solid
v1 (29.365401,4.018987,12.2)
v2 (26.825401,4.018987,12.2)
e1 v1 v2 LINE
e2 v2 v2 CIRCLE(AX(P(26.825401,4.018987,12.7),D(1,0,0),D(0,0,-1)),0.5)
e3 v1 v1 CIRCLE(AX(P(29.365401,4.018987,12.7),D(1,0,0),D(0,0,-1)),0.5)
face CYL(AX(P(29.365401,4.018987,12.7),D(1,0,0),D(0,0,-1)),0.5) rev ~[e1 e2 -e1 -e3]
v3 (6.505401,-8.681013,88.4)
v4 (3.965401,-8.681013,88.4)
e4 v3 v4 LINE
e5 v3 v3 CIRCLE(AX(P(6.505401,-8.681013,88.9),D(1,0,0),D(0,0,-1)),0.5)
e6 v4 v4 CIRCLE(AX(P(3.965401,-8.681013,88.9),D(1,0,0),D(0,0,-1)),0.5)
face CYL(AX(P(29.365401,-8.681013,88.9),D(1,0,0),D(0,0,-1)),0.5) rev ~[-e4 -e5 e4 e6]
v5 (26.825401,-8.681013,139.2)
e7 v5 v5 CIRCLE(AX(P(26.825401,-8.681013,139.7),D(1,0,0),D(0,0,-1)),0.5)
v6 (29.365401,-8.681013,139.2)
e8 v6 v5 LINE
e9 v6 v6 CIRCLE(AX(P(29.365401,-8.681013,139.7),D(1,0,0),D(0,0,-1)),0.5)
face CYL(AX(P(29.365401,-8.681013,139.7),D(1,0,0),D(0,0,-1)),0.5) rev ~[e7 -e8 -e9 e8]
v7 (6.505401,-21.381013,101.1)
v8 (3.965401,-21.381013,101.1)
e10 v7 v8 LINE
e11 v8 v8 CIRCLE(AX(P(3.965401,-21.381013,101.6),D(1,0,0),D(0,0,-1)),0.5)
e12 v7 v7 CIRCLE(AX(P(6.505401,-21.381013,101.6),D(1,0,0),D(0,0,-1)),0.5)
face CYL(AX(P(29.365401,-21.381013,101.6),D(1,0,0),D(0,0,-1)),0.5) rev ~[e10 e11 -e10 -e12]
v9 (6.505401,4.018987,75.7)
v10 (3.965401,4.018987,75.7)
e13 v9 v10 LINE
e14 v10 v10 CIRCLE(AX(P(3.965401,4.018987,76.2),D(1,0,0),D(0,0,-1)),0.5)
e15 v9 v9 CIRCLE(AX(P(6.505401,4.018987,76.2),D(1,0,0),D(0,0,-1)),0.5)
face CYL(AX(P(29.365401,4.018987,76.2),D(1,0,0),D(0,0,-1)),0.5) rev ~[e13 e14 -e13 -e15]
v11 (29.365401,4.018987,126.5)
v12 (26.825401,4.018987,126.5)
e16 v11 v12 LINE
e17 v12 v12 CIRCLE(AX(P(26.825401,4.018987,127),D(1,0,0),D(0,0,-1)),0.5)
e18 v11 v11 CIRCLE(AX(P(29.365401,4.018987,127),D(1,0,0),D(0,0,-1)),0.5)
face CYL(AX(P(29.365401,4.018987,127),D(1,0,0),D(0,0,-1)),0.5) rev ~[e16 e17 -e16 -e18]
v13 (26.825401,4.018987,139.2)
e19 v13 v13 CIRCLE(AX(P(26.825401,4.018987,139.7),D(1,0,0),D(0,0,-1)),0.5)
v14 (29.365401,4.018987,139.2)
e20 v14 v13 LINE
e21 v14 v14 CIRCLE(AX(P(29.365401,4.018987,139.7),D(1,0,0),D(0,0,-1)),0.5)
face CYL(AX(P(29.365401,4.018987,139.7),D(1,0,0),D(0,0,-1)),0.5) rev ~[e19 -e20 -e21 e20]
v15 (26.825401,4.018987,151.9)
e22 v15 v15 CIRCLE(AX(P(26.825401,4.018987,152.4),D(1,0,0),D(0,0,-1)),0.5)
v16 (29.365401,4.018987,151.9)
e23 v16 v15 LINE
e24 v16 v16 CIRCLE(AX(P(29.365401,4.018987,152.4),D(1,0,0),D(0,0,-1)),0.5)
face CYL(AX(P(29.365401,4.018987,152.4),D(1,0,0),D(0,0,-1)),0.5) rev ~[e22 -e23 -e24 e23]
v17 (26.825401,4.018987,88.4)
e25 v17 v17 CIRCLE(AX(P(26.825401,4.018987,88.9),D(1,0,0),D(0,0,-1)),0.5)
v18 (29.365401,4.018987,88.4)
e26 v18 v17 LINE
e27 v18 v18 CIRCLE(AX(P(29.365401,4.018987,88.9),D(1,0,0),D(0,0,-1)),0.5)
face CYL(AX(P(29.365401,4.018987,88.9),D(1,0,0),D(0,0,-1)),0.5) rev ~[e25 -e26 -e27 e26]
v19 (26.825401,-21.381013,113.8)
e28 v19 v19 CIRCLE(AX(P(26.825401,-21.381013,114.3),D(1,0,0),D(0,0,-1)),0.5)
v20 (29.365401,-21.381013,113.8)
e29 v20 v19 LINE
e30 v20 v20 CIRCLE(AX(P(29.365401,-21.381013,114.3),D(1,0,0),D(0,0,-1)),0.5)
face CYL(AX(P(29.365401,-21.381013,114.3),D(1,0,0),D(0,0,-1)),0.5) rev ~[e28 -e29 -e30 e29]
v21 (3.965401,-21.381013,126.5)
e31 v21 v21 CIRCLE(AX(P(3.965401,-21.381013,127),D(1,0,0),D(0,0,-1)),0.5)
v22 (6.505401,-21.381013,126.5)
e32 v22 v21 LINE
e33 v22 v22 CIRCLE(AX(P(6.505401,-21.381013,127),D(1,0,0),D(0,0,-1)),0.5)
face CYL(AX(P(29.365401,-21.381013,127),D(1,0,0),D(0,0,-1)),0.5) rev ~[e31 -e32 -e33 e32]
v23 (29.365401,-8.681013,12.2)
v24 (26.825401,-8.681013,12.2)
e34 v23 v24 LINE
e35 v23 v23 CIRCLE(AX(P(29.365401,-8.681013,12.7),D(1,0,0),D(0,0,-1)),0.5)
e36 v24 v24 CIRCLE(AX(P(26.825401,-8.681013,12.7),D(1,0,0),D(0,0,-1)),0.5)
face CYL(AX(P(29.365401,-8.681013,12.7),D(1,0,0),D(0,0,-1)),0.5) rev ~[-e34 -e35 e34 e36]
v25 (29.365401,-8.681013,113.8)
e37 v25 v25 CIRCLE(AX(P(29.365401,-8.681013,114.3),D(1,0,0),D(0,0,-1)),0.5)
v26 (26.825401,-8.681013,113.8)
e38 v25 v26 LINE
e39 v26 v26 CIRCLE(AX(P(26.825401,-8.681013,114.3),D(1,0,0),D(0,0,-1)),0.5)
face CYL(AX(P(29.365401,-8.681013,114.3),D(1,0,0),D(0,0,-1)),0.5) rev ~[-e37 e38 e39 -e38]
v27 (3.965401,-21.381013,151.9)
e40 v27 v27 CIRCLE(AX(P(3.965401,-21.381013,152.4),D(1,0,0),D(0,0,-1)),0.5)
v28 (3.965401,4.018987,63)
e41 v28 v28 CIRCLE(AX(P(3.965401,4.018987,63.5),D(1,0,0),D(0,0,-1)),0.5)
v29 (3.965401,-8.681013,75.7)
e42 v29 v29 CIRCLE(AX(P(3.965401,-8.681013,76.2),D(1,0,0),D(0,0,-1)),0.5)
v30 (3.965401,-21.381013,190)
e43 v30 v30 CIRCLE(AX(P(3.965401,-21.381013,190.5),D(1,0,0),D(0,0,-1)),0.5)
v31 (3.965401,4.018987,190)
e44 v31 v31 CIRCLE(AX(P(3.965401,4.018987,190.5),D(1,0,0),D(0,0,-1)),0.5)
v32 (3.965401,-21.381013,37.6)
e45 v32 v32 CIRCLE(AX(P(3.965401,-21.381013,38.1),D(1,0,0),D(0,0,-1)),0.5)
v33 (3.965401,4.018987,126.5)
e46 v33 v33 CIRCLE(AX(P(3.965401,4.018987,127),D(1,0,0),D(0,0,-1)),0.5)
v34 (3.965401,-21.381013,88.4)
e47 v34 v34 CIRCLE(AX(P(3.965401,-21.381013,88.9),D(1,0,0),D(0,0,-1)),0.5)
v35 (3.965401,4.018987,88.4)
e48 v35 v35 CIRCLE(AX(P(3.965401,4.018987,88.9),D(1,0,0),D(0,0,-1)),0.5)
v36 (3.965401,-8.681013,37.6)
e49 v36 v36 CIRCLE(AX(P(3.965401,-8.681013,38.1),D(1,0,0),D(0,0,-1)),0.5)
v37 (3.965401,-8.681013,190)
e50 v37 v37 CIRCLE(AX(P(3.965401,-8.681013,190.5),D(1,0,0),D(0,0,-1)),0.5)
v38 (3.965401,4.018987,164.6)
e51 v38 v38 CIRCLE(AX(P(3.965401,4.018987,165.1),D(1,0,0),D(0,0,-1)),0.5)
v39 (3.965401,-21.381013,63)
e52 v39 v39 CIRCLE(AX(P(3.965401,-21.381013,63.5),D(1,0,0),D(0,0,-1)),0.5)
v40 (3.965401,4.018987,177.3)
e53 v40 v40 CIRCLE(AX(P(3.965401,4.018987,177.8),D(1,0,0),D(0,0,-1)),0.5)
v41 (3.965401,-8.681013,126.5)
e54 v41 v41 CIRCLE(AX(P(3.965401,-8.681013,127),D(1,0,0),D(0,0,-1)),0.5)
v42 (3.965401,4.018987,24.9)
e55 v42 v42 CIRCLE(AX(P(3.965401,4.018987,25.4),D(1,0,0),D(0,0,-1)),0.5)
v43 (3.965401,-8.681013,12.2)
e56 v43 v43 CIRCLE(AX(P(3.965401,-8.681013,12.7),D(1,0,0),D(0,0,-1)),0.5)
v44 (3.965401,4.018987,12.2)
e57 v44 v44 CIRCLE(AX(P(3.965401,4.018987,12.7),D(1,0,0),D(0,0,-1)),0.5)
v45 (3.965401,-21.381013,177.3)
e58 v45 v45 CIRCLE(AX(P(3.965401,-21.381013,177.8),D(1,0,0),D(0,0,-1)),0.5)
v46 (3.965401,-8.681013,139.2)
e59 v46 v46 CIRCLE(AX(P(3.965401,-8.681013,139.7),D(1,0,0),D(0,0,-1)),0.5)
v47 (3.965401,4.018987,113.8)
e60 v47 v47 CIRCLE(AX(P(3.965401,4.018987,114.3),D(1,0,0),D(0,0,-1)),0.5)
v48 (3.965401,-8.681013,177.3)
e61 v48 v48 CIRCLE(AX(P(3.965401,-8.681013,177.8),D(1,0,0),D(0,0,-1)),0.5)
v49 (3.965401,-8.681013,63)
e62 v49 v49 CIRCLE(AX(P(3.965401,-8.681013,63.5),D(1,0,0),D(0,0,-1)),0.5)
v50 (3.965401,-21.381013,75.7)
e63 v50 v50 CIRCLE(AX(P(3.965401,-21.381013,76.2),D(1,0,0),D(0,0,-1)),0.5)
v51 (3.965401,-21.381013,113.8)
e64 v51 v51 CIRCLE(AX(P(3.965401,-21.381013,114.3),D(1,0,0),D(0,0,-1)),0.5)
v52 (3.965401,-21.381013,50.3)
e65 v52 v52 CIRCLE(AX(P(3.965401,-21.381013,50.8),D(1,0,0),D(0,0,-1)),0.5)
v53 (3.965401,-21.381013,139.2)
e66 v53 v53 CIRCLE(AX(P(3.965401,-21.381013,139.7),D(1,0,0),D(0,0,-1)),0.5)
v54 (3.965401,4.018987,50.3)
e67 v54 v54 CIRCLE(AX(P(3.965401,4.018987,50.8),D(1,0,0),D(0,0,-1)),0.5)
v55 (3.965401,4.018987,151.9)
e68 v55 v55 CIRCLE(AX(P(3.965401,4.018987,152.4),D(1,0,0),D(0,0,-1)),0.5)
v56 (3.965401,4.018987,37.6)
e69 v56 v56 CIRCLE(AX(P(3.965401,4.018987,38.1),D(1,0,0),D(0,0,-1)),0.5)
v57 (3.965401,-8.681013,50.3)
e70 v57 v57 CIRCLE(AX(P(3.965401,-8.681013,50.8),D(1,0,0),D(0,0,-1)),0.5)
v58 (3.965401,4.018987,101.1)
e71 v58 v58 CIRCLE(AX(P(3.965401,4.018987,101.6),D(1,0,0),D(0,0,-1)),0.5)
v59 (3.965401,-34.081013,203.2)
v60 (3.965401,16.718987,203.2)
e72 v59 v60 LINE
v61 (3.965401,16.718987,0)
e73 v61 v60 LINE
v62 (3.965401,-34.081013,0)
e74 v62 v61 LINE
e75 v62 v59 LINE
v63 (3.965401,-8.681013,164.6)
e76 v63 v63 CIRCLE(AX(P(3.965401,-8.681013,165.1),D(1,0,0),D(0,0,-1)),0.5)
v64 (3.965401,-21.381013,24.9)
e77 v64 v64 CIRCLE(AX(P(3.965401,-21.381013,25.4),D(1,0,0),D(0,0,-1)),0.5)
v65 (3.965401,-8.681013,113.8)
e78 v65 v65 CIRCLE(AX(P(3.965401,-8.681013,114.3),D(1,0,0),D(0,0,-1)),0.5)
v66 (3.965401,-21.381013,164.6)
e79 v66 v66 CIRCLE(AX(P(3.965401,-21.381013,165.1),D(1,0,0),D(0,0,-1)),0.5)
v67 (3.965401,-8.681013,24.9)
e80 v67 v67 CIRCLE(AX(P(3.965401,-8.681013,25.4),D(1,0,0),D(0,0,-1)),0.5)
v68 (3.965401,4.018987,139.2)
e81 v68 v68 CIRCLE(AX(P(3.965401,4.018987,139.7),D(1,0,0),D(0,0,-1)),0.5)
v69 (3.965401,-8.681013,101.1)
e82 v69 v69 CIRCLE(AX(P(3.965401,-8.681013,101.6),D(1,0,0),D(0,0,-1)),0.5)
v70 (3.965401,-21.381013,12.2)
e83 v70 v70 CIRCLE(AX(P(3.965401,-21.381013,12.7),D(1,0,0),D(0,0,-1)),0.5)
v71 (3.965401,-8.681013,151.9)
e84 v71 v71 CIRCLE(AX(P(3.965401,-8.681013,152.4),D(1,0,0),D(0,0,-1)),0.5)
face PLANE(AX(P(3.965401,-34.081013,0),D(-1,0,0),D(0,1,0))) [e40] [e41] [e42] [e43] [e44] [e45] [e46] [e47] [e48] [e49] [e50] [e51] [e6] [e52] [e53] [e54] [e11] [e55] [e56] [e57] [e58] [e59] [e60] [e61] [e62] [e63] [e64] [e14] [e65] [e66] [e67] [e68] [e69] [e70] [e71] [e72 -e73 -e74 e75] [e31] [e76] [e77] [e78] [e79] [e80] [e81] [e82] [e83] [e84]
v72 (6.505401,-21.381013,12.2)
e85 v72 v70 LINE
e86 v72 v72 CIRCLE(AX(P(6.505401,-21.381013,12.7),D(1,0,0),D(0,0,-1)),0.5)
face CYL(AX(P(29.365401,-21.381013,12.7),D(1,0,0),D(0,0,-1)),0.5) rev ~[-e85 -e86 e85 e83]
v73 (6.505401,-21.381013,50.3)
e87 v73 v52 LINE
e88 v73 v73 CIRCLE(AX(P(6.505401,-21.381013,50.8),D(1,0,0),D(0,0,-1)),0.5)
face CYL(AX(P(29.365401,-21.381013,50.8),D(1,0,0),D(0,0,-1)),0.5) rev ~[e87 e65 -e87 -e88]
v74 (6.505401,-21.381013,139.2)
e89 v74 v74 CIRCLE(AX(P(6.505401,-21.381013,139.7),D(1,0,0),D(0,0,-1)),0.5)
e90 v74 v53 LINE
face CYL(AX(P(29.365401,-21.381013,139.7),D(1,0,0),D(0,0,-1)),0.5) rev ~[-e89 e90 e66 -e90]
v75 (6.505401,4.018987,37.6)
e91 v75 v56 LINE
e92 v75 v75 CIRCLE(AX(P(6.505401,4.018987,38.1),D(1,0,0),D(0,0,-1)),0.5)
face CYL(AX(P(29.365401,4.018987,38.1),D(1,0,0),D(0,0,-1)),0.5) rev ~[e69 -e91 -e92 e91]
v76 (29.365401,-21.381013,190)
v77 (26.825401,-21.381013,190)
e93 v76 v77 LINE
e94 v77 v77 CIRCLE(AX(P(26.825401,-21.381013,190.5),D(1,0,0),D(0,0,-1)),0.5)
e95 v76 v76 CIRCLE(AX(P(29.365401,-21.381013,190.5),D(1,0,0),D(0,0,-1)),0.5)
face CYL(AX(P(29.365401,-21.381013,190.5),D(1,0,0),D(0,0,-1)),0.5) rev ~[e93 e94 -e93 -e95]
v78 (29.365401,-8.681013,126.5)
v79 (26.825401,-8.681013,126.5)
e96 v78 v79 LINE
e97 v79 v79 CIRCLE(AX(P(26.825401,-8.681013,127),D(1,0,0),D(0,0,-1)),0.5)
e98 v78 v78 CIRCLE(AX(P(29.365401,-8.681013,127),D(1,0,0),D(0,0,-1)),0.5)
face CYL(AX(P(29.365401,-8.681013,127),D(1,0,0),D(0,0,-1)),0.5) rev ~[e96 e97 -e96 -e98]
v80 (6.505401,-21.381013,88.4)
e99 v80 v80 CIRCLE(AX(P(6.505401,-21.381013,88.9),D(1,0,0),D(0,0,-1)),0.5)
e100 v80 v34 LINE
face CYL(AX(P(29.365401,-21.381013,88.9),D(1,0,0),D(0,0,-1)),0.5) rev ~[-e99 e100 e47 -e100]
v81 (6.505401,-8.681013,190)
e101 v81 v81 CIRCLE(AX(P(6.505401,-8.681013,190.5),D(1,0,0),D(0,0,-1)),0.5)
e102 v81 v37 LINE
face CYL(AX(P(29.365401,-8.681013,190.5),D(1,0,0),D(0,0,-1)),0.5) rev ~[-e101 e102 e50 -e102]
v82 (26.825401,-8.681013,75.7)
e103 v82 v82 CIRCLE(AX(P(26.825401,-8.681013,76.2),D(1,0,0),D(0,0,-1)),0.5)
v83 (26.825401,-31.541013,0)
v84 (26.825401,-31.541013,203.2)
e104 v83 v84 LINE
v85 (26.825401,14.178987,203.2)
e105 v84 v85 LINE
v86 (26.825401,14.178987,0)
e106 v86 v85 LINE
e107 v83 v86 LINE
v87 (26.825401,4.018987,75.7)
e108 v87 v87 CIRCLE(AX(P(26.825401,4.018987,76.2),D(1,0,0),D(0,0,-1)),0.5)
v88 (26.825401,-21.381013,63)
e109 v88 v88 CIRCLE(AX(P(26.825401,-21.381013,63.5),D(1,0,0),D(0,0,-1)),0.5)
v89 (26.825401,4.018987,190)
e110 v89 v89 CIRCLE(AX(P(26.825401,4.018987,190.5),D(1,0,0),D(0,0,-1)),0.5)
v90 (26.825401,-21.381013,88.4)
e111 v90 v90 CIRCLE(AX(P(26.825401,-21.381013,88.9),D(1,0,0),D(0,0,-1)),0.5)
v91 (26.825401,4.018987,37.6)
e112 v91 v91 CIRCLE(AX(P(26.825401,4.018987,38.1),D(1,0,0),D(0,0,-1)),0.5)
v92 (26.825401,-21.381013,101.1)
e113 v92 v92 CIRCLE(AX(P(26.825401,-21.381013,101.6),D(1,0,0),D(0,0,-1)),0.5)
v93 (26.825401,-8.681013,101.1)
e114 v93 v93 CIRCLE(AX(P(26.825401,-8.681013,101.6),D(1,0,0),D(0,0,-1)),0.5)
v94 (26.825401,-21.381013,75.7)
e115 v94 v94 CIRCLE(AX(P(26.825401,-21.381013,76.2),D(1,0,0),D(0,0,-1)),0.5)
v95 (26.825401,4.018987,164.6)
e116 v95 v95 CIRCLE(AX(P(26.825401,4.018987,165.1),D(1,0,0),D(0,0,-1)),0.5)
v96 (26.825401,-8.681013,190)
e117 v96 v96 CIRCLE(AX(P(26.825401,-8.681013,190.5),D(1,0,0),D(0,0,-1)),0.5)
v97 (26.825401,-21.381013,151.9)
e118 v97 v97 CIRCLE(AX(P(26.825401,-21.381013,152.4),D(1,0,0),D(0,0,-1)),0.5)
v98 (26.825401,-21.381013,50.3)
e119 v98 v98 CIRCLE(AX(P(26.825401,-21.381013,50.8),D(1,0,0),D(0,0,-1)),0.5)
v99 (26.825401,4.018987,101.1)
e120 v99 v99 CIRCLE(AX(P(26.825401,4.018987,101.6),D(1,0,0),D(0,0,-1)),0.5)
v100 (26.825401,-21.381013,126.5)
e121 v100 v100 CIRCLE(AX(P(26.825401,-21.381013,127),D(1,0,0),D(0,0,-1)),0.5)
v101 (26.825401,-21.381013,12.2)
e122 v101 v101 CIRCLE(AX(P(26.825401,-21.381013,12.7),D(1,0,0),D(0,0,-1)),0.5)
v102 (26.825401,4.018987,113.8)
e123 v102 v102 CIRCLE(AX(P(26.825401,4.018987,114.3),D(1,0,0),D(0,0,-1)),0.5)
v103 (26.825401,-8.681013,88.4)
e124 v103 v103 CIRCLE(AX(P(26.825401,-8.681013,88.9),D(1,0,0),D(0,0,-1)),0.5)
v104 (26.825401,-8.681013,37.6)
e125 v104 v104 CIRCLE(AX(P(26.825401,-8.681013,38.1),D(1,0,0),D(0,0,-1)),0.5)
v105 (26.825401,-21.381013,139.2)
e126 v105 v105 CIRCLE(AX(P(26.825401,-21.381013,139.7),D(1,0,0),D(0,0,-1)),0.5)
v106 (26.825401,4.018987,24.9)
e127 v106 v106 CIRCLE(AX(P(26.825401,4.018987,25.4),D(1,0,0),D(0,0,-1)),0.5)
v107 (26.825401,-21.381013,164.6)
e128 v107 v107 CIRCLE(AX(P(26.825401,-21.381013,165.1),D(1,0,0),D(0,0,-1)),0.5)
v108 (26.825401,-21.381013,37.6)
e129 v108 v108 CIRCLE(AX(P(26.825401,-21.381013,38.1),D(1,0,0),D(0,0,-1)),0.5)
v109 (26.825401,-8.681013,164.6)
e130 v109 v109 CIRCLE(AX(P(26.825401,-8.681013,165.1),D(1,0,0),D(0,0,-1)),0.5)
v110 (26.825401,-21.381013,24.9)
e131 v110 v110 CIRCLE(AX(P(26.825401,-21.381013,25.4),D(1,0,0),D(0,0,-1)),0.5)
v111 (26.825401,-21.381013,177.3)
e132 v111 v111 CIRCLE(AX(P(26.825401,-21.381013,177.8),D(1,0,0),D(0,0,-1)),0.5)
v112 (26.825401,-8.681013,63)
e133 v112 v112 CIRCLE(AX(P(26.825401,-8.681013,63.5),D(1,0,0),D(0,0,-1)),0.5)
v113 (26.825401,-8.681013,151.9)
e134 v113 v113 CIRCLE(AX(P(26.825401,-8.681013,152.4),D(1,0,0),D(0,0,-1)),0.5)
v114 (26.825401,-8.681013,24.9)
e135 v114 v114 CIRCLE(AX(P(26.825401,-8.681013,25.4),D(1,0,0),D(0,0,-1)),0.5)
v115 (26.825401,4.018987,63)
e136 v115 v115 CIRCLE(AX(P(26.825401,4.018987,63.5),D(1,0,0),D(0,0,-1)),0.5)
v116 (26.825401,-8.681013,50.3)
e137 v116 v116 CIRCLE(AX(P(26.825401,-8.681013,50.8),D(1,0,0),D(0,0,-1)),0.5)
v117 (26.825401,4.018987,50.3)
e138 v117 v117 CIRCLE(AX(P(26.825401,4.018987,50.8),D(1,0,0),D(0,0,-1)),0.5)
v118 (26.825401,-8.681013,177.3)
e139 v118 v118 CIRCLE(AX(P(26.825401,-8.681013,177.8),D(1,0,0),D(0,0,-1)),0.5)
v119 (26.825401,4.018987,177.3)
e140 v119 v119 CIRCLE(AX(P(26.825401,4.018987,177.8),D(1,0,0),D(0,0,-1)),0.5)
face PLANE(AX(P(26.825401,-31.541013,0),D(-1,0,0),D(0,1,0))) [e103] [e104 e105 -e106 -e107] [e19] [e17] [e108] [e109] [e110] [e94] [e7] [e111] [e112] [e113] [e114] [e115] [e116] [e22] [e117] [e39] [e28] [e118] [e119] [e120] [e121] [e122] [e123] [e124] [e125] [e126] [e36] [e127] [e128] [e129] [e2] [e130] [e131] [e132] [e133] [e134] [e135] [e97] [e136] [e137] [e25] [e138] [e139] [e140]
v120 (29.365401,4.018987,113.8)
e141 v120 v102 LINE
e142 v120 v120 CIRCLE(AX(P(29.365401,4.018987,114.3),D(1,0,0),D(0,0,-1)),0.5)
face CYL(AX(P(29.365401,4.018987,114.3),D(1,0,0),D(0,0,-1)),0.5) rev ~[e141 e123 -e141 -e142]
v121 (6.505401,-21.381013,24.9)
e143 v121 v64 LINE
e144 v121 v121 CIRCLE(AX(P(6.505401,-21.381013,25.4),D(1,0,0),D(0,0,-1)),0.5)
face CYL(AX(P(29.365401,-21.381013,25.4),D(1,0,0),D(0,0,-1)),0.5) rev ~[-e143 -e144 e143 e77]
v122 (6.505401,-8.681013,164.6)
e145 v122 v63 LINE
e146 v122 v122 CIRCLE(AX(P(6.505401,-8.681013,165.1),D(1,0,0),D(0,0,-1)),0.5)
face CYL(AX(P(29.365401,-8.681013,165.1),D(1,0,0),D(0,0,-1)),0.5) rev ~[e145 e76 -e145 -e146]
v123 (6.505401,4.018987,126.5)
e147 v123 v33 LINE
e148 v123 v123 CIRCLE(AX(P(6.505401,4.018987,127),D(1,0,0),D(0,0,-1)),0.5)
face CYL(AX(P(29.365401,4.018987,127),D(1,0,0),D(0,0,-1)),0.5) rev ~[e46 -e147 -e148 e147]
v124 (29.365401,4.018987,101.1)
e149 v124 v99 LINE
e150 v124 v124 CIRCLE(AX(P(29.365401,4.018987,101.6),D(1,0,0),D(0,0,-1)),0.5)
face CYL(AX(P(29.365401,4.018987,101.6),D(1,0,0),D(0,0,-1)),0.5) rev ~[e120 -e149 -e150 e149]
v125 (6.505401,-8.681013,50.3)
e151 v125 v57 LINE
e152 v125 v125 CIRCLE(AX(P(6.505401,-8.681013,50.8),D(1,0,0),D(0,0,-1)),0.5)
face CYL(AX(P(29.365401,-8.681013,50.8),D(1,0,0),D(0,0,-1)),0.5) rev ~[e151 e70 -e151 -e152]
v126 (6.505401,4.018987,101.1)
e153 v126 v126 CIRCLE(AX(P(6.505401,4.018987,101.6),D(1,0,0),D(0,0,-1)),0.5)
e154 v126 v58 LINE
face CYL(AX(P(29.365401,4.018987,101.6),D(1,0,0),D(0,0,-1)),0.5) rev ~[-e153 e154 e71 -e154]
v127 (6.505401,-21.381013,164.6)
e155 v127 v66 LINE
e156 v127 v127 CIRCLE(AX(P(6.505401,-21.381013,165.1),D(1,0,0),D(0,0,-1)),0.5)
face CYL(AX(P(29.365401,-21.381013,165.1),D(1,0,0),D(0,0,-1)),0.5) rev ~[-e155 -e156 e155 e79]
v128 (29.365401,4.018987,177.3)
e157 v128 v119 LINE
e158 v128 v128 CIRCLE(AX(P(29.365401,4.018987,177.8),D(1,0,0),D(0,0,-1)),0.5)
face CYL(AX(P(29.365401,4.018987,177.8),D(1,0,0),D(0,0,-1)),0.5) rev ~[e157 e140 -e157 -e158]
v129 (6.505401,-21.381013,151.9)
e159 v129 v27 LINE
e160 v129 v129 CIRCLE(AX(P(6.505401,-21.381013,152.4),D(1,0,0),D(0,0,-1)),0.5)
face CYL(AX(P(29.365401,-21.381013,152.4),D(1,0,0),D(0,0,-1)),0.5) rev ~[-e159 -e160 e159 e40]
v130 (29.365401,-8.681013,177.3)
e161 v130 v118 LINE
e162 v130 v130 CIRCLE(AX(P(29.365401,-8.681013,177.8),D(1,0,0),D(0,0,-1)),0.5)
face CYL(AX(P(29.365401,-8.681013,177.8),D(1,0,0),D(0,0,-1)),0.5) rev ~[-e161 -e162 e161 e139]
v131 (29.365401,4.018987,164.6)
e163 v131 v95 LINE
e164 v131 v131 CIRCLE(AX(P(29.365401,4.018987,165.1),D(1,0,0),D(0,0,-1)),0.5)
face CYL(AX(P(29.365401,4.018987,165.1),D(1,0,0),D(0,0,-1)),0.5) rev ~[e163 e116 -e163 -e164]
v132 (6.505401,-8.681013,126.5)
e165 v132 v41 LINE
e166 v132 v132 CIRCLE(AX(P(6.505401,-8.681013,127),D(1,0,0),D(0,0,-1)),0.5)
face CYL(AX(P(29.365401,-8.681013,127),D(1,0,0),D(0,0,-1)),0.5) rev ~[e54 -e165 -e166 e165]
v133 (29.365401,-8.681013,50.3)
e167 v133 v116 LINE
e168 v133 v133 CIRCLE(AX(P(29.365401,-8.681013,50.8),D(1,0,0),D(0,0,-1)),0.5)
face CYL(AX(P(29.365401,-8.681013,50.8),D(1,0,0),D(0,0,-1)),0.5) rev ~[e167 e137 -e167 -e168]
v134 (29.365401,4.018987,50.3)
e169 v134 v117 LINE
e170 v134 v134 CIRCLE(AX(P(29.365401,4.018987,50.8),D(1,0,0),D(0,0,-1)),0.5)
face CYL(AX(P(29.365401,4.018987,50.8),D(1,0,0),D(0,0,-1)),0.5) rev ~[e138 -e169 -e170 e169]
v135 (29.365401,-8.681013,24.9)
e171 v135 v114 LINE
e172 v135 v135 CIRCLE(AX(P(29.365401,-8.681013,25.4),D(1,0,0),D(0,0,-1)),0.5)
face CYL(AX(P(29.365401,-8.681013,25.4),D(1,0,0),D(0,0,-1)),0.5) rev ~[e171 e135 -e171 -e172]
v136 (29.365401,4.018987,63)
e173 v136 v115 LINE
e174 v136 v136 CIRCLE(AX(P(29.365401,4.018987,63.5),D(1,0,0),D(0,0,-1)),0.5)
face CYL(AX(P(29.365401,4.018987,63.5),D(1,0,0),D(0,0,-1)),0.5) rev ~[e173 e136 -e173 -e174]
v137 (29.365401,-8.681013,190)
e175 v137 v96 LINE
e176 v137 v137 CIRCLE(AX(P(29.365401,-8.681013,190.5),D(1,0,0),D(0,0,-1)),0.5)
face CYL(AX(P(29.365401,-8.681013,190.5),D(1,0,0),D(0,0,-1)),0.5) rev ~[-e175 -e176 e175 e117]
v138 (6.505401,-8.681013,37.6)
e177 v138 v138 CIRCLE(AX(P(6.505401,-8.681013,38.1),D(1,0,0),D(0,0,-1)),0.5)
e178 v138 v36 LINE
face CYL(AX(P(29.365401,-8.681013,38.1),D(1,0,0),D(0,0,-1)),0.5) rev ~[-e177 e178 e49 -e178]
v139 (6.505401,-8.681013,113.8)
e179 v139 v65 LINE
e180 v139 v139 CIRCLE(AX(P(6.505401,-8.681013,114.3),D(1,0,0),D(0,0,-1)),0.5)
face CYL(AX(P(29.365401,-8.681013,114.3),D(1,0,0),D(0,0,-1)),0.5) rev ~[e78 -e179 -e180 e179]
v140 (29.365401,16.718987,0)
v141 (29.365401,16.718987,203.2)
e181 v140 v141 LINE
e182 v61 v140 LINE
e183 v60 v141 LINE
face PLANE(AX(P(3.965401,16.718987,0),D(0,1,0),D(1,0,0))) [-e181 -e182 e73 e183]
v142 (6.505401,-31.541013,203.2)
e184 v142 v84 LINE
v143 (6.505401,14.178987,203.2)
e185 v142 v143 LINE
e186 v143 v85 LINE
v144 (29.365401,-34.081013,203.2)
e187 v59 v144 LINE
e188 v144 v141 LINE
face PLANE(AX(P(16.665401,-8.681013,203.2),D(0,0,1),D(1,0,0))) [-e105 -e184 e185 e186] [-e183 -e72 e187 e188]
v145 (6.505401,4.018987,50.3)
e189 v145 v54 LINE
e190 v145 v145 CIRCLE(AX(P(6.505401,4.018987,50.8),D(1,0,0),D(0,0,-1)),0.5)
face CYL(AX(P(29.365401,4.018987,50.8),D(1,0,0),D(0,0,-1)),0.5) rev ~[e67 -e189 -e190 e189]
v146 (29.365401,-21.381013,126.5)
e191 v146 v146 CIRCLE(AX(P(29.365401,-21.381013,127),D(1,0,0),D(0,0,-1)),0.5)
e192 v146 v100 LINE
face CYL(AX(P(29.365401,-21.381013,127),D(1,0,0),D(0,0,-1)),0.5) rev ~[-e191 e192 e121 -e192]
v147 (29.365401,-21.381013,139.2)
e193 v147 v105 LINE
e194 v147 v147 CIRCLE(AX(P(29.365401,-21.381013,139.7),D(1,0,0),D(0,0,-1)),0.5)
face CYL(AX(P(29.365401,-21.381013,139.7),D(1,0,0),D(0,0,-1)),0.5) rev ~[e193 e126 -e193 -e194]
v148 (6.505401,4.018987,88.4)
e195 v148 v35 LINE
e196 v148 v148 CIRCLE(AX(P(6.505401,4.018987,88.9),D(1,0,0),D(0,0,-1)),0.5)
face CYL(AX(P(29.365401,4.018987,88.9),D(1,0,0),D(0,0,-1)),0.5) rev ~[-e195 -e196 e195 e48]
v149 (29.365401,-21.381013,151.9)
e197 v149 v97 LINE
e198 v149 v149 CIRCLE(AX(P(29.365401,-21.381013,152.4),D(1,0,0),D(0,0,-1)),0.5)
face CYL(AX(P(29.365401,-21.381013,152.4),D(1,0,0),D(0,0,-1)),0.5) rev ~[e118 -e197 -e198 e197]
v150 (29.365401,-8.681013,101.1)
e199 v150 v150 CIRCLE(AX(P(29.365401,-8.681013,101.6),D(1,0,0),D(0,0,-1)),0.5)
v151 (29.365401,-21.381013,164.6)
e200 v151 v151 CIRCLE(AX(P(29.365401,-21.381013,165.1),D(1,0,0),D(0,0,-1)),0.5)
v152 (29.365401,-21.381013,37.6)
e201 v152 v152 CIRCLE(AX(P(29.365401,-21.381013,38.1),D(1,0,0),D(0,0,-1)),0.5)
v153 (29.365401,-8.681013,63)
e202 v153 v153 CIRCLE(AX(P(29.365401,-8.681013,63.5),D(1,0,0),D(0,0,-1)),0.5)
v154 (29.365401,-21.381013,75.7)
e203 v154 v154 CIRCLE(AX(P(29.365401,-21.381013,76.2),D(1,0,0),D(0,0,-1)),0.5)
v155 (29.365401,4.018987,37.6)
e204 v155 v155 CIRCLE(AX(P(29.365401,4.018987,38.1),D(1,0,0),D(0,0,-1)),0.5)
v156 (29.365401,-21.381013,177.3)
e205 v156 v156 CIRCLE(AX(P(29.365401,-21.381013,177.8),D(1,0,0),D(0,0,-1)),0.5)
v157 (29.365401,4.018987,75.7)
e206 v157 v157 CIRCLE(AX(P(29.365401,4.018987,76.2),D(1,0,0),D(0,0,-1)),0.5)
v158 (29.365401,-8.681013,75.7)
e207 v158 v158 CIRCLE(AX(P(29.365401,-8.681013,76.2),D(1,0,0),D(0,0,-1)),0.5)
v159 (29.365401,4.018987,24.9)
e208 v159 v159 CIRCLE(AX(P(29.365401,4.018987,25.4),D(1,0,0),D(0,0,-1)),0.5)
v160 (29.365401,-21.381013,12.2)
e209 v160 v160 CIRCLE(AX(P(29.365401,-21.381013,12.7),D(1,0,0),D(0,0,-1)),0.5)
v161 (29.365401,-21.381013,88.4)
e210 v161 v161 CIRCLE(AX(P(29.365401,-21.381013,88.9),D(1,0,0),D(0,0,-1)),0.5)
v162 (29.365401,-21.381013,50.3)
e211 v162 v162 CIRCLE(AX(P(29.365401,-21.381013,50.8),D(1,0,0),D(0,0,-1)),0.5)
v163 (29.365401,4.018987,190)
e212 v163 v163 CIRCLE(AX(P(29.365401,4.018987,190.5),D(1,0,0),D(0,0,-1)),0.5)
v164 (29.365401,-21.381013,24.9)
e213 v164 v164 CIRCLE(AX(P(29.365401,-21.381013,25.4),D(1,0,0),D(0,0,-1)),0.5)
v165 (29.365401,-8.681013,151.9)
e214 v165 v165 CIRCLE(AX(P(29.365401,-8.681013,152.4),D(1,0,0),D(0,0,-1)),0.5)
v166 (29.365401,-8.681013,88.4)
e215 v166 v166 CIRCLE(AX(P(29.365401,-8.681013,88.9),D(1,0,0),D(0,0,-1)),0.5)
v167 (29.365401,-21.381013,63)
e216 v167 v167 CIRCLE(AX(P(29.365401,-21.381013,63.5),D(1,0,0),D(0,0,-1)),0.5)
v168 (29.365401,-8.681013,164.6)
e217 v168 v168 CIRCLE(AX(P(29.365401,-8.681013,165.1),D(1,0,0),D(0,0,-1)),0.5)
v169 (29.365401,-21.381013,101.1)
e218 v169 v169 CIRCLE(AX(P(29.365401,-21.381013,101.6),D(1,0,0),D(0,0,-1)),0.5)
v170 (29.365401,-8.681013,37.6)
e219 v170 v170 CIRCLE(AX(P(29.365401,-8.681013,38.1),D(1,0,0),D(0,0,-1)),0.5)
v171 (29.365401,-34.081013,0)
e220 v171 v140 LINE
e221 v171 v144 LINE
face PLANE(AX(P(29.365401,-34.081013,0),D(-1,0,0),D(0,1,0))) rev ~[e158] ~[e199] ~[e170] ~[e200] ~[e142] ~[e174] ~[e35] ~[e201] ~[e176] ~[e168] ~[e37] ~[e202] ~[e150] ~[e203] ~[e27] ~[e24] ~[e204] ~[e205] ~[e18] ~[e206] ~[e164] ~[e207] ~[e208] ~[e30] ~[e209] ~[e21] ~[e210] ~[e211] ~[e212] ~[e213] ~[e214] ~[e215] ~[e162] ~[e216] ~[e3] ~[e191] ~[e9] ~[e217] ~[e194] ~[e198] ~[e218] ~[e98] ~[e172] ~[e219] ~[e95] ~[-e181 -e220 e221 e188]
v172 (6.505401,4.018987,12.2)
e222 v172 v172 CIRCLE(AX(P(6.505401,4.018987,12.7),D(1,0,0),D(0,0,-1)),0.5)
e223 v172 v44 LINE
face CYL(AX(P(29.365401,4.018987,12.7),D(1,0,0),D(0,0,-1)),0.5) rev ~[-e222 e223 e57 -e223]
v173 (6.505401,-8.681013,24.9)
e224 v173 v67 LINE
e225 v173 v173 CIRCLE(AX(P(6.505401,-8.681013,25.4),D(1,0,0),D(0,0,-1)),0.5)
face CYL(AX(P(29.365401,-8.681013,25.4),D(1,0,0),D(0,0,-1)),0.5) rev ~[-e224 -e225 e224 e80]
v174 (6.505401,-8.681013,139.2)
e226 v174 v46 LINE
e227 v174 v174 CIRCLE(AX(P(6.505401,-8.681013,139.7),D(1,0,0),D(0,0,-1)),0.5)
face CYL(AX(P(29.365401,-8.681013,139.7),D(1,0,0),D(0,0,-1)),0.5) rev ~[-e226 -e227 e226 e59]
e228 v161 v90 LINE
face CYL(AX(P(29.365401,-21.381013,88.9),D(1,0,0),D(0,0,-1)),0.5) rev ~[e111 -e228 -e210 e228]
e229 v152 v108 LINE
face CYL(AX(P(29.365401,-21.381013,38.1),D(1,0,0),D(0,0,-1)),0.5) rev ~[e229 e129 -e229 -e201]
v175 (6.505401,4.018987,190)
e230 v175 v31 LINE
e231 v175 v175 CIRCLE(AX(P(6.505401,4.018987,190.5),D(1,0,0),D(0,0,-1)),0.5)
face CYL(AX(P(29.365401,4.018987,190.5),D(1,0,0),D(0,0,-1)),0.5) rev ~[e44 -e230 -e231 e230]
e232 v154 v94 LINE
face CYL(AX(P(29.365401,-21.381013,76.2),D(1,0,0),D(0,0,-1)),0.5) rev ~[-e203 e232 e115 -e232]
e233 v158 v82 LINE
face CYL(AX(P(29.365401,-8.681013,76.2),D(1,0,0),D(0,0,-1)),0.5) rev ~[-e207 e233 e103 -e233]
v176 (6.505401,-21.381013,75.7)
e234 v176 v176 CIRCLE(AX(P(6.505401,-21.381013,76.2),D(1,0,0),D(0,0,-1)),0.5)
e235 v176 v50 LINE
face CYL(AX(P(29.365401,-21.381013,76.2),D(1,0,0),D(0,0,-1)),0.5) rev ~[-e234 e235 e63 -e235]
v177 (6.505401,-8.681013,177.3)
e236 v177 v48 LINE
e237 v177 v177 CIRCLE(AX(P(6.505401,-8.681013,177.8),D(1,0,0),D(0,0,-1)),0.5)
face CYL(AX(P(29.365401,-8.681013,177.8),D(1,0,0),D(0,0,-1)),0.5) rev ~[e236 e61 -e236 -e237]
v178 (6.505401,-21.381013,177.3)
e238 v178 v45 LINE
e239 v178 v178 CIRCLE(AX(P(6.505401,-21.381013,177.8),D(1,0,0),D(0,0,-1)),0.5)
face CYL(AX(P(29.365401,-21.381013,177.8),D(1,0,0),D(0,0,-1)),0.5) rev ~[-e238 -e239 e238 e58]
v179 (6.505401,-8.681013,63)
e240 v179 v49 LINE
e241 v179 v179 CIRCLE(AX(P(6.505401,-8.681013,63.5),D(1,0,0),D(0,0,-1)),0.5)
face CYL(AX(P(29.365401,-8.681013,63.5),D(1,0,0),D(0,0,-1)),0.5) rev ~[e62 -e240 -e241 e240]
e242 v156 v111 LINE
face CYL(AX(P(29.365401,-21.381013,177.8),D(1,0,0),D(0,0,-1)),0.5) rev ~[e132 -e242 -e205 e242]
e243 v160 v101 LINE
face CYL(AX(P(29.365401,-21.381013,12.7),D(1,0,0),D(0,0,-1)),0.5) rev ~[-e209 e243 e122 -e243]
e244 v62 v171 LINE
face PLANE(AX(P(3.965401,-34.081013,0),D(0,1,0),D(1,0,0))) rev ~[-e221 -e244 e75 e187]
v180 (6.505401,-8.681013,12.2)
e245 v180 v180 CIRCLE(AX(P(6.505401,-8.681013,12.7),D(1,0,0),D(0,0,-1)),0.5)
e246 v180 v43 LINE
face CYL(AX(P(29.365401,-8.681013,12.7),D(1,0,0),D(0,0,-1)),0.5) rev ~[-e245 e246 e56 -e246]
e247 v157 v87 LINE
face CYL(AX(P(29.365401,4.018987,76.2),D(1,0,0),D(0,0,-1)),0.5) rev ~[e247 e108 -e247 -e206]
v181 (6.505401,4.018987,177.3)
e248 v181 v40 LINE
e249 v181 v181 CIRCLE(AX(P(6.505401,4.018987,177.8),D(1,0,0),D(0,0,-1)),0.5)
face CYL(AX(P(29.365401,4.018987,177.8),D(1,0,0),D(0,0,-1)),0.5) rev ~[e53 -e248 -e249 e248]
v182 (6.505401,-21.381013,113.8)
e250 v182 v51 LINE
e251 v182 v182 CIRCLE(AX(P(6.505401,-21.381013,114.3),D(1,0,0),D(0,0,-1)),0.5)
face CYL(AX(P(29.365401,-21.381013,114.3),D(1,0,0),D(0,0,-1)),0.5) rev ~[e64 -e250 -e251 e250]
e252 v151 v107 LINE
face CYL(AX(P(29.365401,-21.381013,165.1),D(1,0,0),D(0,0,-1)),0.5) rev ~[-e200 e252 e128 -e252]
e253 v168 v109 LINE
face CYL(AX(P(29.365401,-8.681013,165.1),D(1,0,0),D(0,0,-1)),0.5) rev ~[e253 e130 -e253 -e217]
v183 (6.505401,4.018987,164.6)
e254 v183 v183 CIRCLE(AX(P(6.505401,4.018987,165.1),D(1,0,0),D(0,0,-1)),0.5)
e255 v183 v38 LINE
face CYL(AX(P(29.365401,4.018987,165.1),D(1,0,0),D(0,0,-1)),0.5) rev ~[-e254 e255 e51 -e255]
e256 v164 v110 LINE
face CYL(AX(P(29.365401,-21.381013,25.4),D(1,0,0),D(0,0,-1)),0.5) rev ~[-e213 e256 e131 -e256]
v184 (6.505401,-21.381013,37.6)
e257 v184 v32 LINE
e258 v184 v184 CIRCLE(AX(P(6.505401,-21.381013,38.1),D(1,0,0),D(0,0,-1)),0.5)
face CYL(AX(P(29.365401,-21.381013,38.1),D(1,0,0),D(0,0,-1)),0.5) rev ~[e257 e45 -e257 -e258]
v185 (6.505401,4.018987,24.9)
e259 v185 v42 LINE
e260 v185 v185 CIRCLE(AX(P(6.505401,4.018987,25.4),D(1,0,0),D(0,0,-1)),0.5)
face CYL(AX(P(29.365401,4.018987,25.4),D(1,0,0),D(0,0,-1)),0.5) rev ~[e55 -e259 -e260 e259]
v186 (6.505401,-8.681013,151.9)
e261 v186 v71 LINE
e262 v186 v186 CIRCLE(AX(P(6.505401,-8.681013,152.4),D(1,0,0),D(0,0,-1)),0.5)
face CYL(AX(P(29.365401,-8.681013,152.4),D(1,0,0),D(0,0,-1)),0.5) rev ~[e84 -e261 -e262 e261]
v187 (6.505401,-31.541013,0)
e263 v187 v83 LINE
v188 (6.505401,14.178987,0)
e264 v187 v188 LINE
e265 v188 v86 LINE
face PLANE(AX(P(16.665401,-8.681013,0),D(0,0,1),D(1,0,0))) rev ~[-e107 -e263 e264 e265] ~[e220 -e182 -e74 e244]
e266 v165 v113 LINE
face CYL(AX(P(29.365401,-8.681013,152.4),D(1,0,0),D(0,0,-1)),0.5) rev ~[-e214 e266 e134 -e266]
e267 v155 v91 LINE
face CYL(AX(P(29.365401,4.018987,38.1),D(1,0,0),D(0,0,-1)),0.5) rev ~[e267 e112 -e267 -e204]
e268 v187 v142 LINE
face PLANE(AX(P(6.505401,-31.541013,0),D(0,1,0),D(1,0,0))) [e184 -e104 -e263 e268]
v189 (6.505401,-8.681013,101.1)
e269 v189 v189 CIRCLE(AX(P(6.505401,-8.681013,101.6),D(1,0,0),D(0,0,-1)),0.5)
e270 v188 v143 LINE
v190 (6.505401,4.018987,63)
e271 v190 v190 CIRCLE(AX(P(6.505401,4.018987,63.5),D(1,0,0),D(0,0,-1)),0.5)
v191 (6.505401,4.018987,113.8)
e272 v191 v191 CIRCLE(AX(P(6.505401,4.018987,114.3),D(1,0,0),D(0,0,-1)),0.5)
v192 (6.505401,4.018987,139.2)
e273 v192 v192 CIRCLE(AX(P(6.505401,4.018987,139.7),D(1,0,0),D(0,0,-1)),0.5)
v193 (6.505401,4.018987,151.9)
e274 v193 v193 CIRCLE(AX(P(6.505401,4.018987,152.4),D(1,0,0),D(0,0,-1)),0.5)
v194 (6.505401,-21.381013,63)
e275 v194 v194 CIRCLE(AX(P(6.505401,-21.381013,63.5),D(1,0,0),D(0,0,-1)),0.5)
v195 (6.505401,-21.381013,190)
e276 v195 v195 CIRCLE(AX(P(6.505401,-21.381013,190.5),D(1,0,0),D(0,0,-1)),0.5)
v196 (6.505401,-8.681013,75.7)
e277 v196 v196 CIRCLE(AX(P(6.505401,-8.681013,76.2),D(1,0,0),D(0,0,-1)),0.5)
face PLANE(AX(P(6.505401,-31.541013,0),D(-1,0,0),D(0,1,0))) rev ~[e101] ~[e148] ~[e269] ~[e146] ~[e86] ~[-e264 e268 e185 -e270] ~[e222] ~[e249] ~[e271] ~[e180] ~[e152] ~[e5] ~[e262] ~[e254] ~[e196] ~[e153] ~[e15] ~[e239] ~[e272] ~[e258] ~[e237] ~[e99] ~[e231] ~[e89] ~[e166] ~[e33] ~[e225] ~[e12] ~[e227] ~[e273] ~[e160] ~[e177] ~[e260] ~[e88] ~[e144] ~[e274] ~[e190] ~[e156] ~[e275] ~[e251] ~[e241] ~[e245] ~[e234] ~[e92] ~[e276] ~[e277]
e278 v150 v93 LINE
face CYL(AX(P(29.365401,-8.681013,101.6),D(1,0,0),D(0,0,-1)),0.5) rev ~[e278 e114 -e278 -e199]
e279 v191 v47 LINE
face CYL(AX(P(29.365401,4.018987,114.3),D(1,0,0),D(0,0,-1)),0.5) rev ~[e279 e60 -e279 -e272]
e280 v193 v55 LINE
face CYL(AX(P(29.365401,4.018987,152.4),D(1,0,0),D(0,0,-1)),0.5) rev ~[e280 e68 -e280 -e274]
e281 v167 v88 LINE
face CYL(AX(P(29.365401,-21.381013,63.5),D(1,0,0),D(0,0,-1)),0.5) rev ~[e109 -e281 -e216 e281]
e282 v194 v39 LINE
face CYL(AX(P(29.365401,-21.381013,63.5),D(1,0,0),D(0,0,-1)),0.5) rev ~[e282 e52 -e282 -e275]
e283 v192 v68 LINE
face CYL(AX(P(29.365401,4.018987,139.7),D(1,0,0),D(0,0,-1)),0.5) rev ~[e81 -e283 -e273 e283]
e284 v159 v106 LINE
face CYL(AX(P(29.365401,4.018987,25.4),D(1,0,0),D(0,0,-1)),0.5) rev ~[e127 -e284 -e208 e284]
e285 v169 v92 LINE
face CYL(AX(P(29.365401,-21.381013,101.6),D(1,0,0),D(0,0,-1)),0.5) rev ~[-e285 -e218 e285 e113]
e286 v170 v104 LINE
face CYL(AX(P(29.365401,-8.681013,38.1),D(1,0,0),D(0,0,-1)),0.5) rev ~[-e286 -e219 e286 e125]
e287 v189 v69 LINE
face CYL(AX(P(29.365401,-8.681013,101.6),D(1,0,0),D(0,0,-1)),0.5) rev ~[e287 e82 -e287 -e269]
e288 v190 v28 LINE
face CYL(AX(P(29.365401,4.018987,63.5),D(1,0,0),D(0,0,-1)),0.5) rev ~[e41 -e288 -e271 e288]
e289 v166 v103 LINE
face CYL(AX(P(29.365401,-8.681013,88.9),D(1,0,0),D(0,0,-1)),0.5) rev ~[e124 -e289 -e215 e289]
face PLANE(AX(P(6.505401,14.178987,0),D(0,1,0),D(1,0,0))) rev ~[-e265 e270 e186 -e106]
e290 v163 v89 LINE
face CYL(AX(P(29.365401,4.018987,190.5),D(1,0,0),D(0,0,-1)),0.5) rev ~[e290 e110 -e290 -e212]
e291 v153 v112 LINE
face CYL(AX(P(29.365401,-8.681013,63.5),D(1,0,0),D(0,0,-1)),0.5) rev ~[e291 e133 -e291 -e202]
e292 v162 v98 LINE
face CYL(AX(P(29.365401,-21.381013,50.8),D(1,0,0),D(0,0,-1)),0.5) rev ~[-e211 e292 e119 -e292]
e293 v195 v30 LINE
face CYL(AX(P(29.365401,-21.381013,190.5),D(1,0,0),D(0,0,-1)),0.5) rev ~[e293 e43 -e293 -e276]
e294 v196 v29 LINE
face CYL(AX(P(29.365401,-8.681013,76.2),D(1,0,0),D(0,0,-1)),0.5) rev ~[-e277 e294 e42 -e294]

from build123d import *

# Parameters (mm, degrees)
SKETCH1_W           = 25.4
SKETCH1_H           = 50.8
SKETCH1_W_2         = 20.32
SKETCH1_H_2         = 45.72
BOSS_EXTRUDE1_DEPTH = 203.2
SKETCH2_R           = 0.5
CUT_EXTRUDE1_DEPTH  = 26.4


with BuildPart() as part:
    # Sketch1 → Boss-Extrude1 (new body)
    with BuildSketch(Plane.XY):
        with Locations((16.665400844, -8.681012658)):
            Rectangle(SKETCH1_W, SKETCH1_H)
        with Locations((16.665400844, -8.681012658)):
            Rectangle(SKETCH1_W_2, SKETCH1_H_2, mode=Mode.SUBTRACT)
    extrude(amount=BOSS_EXTRUDE1_DEPTH)

    # Sketch2 → Cut-Extrude1 (cut, through all)
    with BuildSketch(Plane(origin=(29.365400844, 0, 0), x_dir=(0, 0, -1), z_dir=(1, 0, 0))):
        with Locations((-190.5, 4.018987342)):
            Circle(SKETCH2_R)
        with Locations((-177.8, 4.018987342)):
            Circle(SKETCH2_R)
        with Locations((-165.1, 4.018987342)):
            Circle(SKETCH2_R)
        with Locations((-152.4, 4.018987342)):
            Circle(SKETCH2_R)
        with Locations((-139.7, 4.018987342)):
            Circle(SKETCH2_R)
        with Locations((-127, 4.018987342)):
            Circle(SKETCH2_R)
        with Locations((-114.3, 4.018987342)):
            Circle(SKETCH2_R)
        with Locations((-101.6, 4.018987342)):
            Circle(SKETCH2_R)
        with Locations((-88.9, 4.018987342)):
            Circle(SKETCH2_R)
        with Locations((-76.2, 4.018987342)):
            Circle(SKETCH2_R)
        with Locations((-63.5, 4.018987342)):
            Circle(SKETCH2_R)
        with Locations((-50.8, 4.018987342)):
            Circle(SKETCH2_R)
        with Locations((-38.1, 4.018987342)):
            Circle(SKETCH2_R)
        with Locations((-25.4, 4.018987342)):
            Circle(SKETCH2_R)
        with Locations((-12.7, 4.018987342)):
            Circle(SKETCH2_R)
        with Locations((-177.8, -8.681012658)):
            Circle(SKETCH2_R)
        with Locations((-165.1, -8.681012658)):
            Circle(SKETCH2_R)
        with Locations((-152.4, -8.681012658)):
            Circle(SKETCH2_R)
        with Locations((-139.7, -8.681012658)):
            Circle(SKETCH2_R)
        with Locations((-127, -8.681012658)):
            Circle(SKETCH2_R)
        with Locations((-114.3, -8.681012658)):
            Circle(SKETCH2_R)
        with Locations((-101.6, -8.681012658)):
            Circle(SKETCH2_R)
        with Locations((-88.9, -8.681012658)):
            Circle(SKETCH2_R)
        with Locations((-76.2, -8.681012658)):
            Circle(SKETCH2_R)
        with Locations((-63.5, -8.681012658)):
            Circle(SKETCH2_R)
        with Locations((-50.8, -8.681012658)):
            Circle(SKETCH2_R)
        with Locations((-38.1, -8.681012658)):
            Circle(SKETCH2_R)
        with Locations((-25.4, -8.681012658)):
            Circle(SKETCH2_R)
        with Locations((-12.7, -8.681012658)):
            Circle(SKETCH2_R)
        with Locations((-177.8, -21.381012658)):
            Circle(SKETCH2_R)
        with Locations((-165.1, -21.381012658)):
            Circle(SKETCH2_R)
        with Locations((-152.4, -21.381012658)):
            Circle(SKETCH2_R)
        with Locations((-139.7, -21.381012658)):
            Circle(SKETCH2_R)
        with Locations((-127, -21.381012658)):
            Circle(SKETCH2_R)
        with Locations((-114.3, -21.381012658)):
            Circle(SKETCH2_R)
        with Locations((-101.6, -21.381012658)):
            Circle(SKETCH2_R)
        with Locations((-88.9, -21.381012658)):
            Circle(SKETCH2_R)
        with Locations((-76.2, -21.381012658)):
            Circle(SKETCH2_R)
        with Locations((-63.5, -21.381012658)):
            Circle(SKETCH2_R)
        with Locations((-50.8, -21.381012658)):
            Circle(SKETCH2_R)
        with Locations((-38.1, -21.381012658)):
            Circle(SKETCH2_R)
        with Locations((-25.4, -21.381012658)):
            Circle(SKETCH2_R)
        with Locations((-12.7, -21.381012658)):
            Circle(SKETCH2_R)
        with Locations((-190.5, -8.681012658)):
            Circle(SKETCH2_R)
        with Locations((-190.5, -21.381012658)):
            Circle(SKETCH2_R)
    extrude(amount=-CUT_EXTRUDE1_DEPTH, mode=Mode.SUBTRACT)


solid = part.part
